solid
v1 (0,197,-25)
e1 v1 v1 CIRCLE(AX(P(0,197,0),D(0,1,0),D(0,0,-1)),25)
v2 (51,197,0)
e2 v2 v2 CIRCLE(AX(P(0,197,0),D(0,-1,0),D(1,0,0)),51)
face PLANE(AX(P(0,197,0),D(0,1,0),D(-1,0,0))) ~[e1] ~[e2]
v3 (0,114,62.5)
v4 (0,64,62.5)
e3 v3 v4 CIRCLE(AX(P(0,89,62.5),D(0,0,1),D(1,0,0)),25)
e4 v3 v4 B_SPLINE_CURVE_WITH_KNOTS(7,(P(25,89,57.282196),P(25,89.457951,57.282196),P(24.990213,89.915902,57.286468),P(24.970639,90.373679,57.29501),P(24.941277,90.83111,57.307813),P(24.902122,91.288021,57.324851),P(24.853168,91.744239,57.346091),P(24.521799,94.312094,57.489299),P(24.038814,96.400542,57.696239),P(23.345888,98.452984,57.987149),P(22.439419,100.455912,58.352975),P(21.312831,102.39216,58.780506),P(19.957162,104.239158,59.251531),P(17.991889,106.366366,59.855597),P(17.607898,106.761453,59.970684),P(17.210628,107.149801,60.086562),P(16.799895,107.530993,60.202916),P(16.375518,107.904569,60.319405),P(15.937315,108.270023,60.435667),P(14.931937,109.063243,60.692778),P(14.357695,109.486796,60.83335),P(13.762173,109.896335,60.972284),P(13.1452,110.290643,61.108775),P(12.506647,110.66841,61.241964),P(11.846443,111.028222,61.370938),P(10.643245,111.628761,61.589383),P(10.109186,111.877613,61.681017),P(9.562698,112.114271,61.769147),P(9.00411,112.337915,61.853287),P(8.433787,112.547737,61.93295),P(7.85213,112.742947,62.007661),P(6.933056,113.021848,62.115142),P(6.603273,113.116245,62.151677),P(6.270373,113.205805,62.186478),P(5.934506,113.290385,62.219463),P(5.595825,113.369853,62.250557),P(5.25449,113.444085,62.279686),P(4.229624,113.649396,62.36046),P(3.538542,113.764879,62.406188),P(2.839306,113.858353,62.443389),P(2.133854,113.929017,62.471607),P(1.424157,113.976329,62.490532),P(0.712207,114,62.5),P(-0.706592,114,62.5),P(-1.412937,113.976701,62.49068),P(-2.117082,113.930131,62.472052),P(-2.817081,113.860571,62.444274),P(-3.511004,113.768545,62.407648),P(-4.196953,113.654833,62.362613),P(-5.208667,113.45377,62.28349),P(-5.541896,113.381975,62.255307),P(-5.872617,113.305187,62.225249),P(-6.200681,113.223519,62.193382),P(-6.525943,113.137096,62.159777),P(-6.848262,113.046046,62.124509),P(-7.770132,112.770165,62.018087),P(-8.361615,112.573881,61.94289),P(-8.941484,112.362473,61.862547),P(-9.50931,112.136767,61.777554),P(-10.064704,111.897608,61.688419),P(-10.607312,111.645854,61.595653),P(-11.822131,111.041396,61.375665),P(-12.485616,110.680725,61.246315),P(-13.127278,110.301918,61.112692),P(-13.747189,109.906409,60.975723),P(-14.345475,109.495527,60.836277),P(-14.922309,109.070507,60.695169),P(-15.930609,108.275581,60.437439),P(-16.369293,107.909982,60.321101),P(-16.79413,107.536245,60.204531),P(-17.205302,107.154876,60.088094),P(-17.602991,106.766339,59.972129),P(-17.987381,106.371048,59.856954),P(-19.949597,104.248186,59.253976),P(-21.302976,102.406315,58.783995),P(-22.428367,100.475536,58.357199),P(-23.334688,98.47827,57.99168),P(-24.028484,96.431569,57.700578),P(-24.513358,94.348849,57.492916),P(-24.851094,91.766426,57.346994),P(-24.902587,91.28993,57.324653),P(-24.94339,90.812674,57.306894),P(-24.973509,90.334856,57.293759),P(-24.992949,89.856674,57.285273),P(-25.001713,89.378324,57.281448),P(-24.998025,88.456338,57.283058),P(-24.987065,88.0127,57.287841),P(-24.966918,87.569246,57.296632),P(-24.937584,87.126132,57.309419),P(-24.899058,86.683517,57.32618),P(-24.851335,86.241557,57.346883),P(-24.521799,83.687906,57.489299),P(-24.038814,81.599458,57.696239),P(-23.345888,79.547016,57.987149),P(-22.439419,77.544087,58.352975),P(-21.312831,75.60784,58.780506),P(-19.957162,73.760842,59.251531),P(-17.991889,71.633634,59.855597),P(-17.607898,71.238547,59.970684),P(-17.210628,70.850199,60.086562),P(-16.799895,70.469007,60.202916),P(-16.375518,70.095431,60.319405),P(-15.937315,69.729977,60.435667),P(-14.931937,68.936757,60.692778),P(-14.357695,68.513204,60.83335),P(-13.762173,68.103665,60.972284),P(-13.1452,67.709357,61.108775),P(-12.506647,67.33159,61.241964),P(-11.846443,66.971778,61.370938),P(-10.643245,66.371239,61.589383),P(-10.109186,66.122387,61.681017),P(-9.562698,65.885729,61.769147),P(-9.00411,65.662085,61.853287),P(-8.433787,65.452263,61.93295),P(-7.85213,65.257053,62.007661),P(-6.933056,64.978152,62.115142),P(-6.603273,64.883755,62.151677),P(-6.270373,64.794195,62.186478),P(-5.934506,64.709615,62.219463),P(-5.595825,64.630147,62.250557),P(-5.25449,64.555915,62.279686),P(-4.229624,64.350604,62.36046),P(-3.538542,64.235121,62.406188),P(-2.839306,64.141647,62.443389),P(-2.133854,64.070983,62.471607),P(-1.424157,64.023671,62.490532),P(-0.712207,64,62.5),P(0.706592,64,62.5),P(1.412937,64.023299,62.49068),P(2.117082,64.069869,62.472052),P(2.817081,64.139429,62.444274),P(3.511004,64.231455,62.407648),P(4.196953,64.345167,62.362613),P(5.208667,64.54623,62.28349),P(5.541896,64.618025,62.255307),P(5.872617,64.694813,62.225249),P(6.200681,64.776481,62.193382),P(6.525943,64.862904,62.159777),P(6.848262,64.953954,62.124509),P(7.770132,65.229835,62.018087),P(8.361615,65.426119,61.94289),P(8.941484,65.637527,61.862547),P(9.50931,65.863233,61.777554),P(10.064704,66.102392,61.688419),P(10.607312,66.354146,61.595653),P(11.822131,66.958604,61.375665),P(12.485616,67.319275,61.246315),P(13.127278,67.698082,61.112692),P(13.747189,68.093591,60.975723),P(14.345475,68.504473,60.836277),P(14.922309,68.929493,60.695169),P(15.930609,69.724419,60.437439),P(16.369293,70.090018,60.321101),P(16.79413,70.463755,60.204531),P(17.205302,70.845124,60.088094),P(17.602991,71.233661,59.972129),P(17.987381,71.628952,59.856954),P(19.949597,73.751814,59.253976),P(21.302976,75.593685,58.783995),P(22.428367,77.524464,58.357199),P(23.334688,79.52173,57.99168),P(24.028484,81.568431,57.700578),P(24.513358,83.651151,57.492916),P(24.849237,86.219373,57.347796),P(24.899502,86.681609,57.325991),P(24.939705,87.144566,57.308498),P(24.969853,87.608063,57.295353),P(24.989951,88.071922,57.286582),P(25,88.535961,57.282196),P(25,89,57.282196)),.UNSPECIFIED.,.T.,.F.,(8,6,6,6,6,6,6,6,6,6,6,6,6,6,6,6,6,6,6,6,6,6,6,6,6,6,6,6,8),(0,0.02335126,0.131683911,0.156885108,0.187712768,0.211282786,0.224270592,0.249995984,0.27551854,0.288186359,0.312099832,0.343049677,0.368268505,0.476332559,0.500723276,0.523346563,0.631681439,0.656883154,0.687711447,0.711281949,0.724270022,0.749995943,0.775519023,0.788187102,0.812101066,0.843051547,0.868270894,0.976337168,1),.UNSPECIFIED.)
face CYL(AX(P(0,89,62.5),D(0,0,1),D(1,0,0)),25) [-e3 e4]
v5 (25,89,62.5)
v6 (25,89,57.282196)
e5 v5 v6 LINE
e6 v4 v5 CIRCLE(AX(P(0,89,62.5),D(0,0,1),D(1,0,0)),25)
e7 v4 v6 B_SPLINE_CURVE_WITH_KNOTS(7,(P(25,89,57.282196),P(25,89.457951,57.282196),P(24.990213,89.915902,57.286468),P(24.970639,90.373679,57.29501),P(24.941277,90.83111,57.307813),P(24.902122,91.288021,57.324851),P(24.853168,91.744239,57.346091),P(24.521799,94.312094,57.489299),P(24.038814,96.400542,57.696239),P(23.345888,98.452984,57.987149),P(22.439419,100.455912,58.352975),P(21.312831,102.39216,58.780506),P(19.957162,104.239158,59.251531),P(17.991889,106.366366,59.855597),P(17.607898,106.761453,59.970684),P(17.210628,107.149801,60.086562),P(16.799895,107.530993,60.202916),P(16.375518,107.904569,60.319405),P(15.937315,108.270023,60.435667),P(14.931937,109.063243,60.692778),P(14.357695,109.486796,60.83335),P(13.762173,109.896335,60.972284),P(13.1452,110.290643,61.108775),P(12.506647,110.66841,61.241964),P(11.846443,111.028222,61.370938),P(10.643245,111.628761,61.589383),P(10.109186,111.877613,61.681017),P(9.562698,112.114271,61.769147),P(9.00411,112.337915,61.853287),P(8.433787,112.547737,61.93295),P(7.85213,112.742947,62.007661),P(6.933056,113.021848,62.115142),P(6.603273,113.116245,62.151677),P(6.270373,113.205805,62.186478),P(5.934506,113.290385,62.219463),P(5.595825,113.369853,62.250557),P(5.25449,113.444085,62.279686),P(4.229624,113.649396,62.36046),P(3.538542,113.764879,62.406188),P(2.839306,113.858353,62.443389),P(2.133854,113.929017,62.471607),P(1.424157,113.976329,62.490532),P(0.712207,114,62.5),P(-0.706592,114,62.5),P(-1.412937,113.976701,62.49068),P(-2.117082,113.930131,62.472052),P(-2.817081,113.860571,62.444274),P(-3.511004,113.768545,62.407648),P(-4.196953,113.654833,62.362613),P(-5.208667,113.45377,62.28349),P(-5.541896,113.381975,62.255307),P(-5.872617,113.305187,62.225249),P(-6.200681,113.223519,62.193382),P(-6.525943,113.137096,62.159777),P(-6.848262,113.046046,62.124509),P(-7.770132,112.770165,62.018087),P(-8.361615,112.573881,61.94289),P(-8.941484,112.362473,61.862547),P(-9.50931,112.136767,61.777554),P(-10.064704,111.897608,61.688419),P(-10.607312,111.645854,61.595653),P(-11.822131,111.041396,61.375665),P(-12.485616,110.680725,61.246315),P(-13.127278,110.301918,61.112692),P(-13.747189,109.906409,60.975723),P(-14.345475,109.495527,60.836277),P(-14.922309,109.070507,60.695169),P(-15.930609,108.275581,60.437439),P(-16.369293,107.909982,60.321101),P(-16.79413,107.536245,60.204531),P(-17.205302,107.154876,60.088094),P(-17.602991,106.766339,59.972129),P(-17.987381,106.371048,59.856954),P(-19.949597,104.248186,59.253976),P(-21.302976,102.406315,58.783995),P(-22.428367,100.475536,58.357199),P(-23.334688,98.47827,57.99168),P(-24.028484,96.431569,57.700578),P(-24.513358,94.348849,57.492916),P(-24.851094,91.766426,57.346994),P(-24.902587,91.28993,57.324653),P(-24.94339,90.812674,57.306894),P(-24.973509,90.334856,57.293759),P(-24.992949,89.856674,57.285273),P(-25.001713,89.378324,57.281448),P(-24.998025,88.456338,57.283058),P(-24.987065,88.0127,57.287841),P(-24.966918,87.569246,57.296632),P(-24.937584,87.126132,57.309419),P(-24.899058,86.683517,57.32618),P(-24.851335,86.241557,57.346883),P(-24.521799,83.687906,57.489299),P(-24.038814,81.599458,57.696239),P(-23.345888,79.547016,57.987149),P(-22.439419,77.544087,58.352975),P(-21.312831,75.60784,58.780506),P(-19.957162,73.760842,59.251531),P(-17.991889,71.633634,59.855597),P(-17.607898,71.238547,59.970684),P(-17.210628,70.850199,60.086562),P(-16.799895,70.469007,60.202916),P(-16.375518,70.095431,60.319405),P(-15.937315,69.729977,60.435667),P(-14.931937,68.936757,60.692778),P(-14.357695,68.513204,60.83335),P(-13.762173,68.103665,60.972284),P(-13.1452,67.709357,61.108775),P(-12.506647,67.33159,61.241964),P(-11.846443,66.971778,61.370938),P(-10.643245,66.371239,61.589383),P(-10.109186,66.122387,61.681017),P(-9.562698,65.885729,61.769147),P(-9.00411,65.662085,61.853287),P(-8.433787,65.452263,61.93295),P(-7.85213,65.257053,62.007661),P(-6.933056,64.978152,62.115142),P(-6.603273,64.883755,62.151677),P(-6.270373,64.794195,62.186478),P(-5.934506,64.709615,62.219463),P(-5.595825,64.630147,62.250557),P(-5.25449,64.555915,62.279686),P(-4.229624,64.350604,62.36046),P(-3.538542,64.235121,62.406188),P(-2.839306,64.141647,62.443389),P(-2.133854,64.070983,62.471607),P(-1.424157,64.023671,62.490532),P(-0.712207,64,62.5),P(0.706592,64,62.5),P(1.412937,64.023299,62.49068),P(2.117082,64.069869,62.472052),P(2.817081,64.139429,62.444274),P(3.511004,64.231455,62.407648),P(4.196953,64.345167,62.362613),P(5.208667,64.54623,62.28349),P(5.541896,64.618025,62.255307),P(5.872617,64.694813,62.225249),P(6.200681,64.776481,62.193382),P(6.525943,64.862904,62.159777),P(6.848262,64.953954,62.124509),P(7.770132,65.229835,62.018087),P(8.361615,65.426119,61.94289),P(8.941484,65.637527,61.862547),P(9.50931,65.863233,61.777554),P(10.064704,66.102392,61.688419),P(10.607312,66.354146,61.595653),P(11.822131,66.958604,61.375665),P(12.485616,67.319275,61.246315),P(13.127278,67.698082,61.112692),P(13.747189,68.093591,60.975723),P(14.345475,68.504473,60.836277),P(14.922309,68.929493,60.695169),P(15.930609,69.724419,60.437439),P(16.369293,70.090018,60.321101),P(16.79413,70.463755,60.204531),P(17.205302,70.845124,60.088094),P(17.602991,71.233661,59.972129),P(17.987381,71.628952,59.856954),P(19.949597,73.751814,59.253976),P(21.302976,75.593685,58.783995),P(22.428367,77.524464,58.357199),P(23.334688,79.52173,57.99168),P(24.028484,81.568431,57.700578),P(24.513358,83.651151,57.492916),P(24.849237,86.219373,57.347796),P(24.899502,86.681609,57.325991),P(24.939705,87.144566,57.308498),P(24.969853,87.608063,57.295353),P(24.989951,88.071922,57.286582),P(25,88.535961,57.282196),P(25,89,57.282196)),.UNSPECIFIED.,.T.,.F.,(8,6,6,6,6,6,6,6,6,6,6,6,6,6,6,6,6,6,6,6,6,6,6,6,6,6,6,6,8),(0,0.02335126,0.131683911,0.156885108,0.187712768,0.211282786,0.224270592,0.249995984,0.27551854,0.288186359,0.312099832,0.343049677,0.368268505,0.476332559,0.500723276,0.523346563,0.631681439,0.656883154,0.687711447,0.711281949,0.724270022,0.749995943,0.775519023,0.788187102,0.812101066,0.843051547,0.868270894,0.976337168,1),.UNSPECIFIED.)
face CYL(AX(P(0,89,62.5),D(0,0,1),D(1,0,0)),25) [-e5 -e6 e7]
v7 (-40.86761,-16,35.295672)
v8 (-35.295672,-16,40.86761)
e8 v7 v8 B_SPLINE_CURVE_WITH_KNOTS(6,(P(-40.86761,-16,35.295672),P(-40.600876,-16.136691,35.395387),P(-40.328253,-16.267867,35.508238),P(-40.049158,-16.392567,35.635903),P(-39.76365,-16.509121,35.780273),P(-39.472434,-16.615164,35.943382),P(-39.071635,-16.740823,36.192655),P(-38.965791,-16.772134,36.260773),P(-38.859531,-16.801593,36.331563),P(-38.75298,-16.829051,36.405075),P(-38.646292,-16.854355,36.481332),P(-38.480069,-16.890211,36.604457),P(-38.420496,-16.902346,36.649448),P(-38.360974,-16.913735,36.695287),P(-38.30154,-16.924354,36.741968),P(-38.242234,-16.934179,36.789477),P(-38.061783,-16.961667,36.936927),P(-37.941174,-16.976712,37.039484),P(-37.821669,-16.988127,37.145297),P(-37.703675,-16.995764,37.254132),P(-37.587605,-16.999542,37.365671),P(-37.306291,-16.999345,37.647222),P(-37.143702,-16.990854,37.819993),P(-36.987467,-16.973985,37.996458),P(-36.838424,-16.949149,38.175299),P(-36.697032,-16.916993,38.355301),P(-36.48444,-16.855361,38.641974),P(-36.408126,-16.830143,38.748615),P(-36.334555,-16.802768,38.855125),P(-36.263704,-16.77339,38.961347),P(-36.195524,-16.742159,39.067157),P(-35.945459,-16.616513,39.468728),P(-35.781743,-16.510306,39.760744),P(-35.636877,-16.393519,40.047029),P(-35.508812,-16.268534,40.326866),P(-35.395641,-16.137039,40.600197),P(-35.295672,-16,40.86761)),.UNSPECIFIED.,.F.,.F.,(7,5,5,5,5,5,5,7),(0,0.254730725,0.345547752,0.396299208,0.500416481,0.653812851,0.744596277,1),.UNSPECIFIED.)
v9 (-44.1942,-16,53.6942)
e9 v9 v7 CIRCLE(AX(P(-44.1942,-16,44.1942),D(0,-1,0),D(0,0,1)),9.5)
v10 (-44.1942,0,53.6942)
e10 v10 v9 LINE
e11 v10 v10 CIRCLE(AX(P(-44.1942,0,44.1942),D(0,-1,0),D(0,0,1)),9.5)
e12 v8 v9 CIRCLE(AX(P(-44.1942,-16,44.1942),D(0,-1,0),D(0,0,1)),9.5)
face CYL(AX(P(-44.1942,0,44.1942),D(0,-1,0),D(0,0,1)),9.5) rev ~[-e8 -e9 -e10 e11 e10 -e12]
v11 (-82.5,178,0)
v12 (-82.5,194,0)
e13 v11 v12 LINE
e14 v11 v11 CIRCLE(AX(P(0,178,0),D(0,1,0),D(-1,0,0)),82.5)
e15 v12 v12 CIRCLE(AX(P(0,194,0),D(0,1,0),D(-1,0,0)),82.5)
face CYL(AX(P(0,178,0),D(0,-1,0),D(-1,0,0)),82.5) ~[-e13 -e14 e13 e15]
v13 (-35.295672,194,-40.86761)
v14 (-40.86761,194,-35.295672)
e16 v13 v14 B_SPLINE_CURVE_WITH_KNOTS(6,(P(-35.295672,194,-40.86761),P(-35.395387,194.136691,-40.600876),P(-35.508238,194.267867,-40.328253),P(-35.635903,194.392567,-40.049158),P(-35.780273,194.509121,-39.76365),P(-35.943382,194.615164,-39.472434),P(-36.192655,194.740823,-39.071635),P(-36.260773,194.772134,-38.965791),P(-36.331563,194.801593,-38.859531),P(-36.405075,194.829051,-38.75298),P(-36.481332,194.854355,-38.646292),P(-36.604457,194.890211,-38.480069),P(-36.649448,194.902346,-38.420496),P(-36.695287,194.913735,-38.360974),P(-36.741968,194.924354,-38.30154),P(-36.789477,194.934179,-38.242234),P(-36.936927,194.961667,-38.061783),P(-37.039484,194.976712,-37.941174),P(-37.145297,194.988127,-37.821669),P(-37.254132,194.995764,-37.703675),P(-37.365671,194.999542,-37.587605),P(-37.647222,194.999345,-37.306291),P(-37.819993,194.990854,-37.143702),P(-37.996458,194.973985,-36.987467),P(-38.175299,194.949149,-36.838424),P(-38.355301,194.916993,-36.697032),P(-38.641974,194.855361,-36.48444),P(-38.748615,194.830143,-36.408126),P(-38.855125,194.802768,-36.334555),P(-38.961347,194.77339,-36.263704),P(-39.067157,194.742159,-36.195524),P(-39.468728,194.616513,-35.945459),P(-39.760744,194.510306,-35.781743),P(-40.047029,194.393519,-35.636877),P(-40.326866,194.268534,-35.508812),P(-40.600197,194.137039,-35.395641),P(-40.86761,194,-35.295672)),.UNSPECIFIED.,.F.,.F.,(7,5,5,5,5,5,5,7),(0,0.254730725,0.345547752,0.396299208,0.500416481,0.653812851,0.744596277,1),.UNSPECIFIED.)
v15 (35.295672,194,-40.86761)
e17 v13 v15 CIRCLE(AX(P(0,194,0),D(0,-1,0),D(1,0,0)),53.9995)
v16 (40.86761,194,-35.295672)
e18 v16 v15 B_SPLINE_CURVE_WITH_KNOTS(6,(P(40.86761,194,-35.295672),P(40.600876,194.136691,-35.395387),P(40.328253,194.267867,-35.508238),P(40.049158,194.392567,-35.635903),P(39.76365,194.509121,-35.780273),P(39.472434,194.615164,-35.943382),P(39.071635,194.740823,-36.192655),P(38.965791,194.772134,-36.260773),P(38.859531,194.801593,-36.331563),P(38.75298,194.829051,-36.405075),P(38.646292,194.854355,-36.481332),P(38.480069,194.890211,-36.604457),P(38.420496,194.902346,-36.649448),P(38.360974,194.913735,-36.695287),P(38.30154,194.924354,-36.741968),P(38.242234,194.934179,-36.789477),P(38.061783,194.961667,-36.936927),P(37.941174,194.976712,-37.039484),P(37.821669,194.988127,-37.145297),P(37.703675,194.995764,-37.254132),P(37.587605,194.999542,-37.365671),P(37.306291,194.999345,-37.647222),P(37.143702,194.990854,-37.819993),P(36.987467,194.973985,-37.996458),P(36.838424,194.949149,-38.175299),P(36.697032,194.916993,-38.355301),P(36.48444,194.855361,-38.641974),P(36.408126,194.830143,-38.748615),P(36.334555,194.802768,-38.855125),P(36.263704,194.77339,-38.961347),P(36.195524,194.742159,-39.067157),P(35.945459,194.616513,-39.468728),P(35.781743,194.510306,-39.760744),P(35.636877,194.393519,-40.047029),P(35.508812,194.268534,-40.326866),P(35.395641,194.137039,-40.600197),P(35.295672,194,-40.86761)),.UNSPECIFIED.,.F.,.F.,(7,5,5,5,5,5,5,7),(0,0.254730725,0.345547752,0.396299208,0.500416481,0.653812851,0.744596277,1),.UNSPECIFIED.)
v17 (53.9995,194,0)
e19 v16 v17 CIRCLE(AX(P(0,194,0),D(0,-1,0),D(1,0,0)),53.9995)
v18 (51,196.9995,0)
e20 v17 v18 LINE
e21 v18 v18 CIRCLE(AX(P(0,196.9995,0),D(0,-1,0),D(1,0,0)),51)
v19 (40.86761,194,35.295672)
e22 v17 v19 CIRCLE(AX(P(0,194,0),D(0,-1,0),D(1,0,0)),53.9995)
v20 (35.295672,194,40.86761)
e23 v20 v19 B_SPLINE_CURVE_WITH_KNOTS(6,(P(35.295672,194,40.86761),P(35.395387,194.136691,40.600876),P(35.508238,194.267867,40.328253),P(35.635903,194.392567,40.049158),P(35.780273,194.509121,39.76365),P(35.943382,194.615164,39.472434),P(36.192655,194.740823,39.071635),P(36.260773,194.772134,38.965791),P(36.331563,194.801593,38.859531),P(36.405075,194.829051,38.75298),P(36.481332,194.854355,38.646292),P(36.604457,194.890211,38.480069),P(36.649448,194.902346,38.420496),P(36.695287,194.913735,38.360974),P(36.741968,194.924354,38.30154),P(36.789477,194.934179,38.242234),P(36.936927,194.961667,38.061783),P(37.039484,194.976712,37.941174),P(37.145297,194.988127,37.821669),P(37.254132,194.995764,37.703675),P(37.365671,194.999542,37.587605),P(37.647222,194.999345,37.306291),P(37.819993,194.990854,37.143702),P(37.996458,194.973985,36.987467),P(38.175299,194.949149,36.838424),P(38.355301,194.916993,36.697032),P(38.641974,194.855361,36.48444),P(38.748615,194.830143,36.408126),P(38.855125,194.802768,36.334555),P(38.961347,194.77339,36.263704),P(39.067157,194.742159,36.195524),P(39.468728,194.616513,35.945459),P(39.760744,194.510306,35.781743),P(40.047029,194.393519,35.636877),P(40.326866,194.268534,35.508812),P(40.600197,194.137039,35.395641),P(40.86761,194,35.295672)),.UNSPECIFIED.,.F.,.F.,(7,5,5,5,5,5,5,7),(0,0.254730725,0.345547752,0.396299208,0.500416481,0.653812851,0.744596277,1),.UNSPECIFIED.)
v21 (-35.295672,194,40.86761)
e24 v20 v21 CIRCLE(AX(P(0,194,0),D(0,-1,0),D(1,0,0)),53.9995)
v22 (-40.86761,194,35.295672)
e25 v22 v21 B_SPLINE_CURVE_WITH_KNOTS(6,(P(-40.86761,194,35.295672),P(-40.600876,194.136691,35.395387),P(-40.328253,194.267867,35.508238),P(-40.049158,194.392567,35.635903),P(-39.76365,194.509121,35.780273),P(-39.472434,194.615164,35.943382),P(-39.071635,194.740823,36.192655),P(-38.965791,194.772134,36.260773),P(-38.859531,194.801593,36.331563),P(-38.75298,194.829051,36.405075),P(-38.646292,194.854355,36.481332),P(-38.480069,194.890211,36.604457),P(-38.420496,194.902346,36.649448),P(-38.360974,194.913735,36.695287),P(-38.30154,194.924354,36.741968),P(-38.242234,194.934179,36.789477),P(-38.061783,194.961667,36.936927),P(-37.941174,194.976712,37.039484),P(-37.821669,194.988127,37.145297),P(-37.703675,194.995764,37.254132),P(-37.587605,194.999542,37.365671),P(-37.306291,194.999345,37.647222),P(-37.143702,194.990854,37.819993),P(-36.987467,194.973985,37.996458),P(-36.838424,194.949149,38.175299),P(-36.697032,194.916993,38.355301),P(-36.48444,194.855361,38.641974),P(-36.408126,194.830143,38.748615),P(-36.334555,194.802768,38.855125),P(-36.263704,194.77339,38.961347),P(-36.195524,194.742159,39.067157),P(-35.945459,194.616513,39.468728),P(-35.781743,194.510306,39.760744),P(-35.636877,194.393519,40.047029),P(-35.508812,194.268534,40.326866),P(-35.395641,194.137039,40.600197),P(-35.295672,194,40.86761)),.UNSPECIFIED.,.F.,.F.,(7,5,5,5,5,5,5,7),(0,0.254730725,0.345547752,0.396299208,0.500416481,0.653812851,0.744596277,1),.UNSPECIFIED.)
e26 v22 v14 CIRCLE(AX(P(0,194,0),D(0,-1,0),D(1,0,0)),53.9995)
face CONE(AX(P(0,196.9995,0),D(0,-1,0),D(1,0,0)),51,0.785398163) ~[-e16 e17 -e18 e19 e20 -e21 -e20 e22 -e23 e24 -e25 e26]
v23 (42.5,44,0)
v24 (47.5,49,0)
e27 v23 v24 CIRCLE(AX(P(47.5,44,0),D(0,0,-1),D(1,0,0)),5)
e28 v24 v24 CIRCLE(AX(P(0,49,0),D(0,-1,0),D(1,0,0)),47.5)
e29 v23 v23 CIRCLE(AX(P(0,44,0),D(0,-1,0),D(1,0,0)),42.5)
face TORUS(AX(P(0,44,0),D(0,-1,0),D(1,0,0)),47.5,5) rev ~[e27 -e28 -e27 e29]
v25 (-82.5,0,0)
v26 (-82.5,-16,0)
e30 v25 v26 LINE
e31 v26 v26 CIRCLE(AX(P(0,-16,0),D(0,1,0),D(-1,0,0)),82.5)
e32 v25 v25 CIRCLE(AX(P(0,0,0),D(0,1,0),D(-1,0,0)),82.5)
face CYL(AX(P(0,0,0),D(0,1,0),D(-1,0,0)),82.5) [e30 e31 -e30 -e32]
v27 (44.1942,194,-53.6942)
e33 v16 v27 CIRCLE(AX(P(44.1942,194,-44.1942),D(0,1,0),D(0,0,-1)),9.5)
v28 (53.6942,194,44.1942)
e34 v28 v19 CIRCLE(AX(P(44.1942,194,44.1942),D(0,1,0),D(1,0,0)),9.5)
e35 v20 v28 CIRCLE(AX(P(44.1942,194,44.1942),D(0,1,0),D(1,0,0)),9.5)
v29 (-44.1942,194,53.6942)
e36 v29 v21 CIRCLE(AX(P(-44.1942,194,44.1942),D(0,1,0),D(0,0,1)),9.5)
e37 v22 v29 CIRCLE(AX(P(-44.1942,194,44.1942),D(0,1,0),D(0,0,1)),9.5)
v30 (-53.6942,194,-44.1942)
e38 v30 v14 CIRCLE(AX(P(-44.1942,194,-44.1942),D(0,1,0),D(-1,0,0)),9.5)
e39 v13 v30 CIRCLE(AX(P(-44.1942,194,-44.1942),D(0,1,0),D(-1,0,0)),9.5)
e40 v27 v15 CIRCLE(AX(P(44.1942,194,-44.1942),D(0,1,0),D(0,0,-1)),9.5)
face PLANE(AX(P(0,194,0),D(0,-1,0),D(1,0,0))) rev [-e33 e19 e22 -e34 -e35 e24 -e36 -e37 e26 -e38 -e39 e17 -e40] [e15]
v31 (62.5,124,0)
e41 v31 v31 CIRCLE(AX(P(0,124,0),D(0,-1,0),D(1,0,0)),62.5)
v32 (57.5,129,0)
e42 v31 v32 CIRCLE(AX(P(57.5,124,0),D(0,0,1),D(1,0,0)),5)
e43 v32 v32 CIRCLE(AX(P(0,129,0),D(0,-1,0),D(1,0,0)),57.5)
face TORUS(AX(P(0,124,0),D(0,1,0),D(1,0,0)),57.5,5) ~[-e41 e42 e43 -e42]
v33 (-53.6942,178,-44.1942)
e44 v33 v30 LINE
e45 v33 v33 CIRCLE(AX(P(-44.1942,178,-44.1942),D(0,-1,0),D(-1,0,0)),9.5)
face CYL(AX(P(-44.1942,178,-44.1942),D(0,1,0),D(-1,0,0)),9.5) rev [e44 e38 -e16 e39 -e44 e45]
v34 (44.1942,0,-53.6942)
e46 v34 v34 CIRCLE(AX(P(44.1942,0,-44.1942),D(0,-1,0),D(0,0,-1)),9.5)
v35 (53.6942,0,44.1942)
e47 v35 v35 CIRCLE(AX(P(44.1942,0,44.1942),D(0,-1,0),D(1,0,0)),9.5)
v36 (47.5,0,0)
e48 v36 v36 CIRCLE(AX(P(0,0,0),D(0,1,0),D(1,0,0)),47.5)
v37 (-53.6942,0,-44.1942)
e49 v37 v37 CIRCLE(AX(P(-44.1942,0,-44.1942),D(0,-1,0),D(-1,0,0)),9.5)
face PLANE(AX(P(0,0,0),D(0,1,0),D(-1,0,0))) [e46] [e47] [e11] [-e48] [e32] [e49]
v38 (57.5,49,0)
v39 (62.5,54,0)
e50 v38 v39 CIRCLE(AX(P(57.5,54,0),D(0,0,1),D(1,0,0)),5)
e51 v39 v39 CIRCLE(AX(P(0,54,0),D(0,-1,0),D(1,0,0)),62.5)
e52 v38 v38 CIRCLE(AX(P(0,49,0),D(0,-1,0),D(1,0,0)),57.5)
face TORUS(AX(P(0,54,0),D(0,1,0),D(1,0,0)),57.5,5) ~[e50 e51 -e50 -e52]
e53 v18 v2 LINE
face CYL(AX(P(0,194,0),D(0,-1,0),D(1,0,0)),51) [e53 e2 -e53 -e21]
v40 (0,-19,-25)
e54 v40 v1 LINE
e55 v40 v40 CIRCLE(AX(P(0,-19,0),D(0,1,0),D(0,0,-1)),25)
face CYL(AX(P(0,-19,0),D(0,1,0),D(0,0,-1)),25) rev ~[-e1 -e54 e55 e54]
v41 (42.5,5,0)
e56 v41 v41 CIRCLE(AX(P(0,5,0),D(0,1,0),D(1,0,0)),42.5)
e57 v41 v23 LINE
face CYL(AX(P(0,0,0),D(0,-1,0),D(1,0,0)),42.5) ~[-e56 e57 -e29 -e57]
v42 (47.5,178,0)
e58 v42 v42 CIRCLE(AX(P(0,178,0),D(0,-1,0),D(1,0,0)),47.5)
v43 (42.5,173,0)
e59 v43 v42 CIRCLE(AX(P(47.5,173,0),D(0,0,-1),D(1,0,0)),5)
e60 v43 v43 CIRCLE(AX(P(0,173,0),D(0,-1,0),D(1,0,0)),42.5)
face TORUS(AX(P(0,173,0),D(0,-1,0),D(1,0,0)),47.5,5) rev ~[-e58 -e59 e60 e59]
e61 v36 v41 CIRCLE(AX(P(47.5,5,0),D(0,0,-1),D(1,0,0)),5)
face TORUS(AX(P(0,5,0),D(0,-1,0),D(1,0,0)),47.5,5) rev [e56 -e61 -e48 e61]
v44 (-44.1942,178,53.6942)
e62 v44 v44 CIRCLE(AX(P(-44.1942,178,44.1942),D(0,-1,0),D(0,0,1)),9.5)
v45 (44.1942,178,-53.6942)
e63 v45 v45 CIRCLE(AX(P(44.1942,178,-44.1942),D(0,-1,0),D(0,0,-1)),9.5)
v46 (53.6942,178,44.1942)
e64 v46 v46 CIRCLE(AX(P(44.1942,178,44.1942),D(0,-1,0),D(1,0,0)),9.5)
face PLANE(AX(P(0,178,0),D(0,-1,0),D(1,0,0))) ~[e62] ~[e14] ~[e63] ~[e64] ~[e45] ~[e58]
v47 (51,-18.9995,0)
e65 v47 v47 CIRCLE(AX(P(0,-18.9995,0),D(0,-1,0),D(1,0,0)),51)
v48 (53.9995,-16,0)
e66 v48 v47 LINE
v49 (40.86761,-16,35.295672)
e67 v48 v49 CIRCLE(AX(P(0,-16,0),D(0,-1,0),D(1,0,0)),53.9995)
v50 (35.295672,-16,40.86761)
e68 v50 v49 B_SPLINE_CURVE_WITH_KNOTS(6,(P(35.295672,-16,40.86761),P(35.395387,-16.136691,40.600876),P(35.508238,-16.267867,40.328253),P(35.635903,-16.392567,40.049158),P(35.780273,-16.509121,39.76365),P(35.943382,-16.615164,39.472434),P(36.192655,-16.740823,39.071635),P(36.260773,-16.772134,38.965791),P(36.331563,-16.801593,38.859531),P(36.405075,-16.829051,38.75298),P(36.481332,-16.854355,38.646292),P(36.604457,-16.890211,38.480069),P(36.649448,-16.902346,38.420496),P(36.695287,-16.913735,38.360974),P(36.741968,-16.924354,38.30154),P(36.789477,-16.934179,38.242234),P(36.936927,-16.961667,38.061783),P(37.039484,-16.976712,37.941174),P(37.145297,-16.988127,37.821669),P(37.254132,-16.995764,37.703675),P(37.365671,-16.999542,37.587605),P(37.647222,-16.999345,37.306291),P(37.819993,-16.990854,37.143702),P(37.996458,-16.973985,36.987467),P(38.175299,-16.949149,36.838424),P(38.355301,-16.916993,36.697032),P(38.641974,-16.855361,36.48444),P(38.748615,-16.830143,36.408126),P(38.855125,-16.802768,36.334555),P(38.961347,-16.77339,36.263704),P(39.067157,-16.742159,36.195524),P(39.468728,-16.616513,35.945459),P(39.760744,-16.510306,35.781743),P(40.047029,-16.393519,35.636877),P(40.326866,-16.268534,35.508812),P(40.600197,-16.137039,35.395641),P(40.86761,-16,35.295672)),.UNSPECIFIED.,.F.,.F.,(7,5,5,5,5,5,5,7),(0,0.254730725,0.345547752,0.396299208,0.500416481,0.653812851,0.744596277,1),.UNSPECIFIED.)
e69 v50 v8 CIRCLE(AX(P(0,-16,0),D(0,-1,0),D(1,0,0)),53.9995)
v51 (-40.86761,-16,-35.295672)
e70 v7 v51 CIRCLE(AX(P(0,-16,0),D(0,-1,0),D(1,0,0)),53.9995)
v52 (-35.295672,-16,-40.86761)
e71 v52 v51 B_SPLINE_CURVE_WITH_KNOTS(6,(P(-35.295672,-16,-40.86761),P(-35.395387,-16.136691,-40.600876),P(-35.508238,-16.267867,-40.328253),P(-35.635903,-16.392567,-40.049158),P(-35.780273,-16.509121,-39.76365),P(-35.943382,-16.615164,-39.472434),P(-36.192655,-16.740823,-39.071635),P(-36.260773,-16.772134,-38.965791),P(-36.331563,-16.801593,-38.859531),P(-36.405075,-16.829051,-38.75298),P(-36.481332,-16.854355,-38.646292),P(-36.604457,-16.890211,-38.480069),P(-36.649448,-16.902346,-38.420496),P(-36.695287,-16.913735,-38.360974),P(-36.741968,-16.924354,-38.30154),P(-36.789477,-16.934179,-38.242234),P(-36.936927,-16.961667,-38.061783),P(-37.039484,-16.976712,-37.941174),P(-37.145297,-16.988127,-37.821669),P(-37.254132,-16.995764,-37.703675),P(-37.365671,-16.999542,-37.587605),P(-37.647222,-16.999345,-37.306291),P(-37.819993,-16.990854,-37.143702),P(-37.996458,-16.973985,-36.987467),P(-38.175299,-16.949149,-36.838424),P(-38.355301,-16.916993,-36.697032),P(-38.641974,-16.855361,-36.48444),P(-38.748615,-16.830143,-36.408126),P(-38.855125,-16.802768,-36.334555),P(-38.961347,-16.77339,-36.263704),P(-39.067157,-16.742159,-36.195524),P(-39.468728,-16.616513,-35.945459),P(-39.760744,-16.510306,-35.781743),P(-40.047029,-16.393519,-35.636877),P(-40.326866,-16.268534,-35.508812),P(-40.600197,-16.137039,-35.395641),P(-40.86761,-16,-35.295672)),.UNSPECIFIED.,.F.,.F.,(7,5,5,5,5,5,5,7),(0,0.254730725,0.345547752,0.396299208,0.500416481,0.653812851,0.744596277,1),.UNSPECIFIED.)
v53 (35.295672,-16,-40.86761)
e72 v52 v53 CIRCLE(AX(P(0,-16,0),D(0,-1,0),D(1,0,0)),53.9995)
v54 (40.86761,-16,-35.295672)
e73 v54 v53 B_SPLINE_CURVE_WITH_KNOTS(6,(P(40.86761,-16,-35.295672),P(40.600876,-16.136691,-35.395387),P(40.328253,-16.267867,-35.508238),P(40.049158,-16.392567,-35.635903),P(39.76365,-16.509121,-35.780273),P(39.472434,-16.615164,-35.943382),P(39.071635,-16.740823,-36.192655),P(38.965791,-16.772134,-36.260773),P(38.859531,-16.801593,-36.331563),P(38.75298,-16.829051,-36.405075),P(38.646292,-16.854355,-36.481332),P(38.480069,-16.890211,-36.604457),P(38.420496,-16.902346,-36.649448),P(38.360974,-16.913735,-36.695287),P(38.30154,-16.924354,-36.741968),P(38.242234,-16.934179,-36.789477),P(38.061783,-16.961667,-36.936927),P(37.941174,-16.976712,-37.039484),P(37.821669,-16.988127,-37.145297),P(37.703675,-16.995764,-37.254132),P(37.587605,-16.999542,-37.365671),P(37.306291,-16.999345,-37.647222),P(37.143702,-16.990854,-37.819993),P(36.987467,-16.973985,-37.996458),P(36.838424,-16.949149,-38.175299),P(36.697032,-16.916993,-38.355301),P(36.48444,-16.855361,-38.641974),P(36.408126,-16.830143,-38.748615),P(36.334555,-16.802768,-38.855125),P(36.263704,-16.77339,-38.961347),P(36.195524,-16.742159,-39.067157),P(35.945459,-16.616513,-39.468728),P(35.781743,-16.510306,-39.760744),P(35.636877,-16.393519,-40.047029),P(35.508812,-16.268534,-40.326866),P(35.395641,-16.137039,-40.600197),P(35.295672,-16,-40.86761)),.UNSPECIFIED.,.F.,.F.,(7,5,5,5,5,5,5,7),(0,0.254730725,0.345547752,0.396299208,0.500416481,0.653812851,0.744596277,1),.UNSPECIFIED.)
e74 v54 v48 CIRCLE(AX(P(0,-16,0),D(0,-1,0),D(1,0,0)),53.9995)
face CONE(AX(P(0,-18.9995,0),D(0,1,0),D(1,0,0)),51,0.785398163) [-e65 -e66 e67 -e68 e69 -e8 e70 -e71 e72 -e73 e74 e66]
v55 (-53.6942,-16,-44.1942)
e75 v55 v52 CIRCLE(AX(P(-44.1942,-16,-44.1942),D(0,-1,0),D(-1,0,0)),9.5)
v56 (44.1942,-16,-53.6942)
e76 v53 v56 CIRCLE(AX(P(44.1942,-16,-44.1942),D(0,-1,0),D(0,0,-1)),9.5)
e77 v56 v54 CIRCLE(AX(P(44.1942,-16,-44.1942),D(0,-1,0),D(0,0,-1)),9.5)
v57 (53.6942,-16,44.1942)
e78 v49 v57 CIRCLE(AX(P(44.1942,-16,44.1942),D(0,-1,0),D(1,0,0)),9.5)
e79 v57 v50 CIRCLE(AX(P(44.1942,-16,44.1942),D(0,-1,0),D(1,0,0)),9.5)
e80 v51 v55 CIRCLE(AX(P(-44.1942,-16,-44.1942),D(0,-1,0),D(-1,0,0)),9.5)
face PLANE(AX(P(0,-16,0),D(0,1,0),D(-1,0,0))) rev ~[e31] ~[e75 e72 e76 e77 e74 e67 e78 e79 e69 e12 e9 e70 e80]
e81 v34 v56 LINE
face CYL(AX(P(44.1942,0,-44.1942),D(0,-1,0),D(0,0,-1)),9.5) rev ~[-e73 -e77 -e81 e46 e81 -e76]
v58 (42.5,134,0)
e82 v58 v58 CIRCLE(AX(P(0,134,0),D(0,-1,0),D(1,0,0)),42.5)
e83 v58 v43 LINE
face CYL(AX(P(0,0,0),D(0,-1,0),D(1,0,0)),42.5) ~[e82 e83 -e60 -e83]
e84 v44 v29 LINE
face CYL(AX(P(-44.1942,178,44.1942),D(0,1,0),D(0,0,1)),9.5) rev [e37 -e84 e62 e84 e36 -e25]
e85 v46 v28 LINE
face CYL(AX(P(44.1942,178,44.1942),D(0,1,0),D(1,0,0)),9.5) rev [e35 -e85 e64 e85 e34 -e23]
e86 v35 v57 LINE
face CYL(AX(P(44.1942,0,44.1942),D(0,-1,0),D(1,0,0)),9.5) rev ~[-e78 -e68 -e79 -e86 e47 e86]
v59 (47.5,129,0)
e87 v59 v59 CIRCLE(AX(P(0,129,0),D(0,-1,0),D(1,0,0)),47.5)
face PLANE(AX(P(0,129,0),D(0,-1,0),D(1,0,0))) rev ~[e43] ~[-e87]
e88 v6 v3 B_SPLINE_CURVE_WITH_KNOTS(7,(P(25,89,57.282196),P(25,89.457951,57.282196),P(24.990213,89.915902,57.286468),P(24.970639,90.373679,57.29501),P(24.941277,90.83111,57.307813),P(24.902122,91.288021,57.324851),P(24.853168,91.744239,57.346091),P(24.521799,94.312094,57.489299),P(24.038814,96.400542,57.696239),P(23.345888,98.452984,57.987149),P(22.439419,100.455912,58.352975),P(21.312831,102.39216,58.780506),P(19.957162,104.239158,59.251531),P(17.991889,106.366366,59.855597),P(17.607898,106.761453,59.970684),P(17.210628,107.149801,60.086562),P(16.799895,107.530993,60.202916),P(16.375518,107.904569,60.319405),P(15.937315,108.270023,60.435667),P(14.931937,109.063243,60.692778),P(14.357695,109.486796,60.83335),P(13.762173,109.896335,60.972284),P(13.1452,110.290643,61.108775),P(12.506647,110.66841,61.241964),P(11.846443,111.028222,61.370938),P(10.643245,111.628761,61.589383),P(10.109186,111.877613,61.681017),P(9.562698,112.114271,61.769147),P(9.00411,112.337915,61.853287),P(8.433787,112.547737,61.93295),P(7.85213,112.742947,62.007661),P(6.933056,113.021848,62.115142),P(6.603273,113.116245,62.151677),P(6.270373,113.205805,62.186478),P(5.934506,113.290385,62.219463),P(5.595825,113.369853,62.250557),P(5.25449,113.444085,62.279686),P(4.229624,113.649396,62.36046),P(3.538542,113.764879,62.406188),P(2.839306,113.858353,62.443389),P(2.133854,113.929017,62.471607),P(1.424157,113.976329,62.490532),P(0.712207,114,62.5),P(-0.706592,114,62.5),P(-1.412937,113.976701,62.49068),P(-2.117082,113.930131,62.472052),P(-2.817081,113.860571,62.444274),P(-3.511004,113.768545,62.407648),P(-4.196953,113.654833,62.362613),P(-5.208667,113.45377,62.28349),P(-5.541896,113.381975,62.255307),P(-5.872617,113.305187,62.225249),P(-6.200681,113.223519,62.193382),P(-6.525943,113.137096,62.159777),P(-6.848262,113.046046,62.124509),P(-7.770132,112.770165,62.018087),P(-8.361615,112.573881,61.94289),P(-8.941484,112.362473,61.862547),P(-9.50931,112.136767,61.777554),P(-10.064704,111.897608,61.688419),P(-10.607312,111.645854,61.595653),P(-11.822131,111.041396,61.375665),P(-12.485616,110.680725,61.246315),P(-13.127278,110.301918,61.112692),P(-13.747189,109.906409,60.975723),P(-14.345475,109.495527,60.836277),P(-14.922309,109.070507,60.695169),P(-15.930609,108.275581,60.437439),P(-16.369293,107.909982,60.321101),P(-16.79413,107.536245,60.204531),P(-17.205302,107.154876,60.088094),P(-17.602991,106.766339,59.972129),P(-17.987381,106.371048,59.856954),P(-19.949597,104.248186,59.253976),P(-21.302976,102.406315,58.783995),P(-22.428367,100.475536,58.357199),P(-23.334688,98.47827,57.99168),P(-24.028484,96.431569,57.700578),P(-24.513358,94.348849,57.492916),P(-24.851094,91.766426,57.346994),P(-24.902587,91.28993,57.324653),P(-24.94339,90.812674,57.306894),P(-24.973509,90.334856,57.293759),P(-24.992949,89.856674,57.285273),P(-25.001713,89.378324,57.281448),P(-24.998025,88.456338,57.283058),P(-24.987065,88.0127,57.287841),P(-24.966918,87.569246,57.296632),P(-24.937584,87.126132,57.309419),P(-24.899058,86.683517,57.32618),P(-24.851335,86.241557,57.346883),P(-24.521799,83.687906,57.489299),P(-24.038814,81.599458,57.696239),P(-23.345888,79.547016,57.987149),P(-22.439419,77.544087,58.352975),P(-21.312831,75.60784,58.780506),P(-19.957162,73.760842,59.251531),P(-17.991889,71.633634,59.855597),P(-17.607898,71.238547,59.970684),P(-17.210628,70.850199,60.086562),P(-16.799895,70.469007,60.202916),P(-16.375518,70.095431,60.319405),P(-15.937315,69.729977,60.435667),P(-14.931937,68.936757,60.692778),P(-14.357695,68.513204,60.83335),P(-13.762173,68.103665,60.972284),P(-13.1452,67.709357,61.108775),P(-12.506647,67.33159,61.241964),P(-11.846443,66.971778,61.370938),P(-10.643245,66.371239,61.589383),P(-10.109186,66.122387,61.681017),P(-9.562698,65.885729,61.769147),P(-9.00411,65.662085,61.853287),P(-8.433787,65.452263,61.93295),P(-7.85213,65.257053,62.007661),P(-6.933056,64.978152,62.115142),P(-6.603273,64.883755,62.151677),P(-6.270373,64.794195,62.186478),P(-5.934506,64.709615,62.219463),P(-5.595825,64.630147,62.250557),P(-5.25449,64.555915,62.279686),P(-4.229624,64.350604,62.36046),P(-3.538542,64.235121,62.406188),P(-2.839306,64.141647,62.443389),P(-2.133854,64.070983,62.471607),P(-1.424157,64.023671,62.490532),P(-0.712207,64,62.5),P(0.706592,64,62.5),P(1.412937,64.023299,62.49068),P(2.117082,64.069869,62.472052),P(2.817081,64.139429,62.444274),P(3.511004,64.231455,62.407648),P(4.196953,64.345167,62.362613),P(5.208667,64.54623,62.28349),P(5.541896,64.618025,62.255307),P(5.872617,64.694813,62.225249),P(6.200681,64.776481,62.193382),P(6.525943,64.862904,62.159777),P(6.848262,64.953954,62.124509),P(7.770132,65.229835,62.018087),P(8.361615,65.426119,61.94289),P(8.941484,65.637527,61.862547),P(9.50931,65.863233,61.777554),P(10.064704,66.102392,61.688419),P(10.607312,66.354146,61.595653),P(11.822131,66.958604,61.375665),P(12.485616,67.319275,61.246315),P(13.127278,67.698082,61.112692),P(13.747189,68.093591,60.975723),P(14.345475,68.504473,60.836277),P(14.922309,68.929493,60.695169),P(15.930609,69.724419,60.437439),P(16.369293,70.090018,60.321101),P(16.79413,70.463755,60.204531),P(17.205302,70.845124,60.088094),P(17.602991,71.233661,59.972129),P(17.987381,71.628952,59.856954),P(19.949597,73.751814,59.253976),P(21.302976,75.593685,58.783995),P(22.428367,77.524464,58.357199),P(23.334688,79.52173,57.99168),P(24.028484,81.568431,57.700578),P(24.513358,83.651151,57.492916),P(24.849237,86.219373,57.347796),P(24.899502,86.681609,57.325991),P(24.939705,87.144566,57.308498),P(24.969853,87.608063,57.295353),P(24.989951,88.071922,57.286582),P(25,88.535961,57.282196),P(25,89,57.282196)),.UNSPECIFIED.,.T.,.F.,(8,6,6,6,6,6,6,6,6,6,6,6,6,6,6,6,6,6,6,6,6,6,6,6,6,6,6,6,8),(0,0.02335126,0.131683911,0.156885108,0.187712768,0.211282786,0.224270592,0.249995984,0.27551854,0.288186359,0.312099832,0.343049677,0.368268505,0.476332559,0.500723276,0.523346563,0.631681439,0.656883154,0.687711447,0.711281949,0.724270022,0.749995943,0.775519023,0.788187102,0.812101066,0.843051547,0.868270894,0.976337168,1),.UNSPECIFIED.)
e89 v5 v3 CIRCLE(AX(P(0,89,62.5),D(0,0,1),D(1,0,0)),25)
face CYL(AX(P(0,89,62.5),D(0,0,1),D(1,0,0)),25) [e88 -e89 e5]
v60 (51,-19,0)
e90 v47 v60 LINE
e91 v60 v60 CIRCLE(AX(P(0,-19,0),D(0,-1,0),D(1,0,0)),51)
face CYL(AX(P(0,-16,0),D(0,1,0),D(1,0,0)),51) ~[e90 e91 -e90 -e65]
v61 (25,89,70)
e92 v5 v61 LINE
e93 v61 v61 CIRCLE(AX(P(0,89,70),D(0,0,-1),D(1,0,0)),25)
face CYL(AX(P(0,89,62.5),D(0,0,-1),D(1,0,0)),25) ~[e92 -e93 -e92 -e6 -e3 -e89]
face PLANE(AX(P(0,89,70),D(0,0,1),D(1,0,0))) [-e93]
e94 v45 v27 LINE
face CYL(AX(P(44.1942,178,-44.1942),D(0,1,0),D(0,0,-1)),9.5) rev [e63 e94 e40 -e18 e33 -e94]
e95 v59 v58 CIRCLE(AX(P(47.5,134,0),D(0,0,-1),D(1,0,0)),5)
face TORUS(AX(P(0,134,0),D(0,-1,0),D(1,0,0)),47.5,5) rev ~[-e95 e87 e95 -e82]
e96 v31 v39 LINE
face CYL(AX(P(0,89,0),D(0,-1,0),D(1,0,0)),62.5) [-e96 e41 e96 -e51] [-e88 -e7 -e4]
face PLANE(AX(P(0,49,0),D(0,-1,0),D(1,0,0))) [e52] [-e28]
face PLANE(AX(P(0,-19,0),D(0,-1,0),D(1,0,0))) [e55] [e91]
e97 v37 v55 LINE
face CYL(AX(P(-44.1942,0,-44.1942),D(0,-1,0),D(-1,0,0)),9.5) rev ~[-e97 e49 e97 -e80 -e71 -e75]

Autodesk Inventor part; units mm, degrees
ref_plane "YZ Plane" through (0, 0, 0) normal (1, 0, 0) x (0, 1, 0)
sketch "Sketch27" plane through (0, 0, 0) normal (0, 1, 0) x (-1, 0, 0)
  circle A0 centre (0, 0) radius 82.5
  dimension "d21" = 165
extrude "Extrusion20" add sketch "Sketch27" against normal blind 16
sketch "Sketch55" plane through (0, -16, 0) normal (0, -1, 0) x (1, 0, 0)
  circle A0 centre (0, 0) radius 82.5 projected
  circle A1 centre (0, 0) radius 51
  dimension "d275" = 102
extrude "Extrusion39" add sketch "Sketch55" along normal blind 3 contours A1
chamfer "Chamfer8" distance 3 angle 45 1 edges at (-51, -16, 0)
sketch "Sketch29" plane through (0, 0, 0) normal (0, 1, 0) x (1, 0, 0)
  circle A0 centre (0, 0) radius 62.5
  circle A1 centre (0, 0) radius 62.5 construction
  line L0 (0, 0) -> (-44.1942, -44.1942) construction
  circle A2 centre (0, 0) radius 82.5 projected
  line L1 (0, 99) -> (0, -132) projected
  dimension "d29" = 125
  dimension "d30" = 45
hole "Hole2" at (-44.1942, 0, 44.1942) direction (0, -1, 0) diameter 19 end through all
pattern_circular "Circular Pattern2" count 4 over 360 about axis through (0, 0, 0) along (0, -1, 0) of "Hole2"
ref_plane "Work Plane11" through (0, 89, 0) normal (0, -1, 0) x (1, 0, 0)
mirror "Mirror5" about plane through (0, 89, 0) normal (0, -1, 0) of "Extrusion20", "Extrusion39", "Chamfer8", "Hole2", "Circular Pattern2"
sketch "Sketch57" plane through (0, 0, 0) normal (0, 1, 0) x (1, 0, 0)
  circle A0 centre (0, 0) radius 82.5 projected
  circle A1 centre (0, 0) radius 42.5
  dimension "d289" = 85
extrude "Extrusion40" add sketch "Sketch57" along normal up to next contours A1
sketch "Sketch58" plane through (0, 89, 0) normal (0, -1, 0) x (1, 0, 0)
  circle A0 centre (0, 0) radius 42.5 projected
  circle A1 centre (0, 0) radius 62.5
  dimension "d292" = 125
extrude "Extrusion41" add sketch "Sketch58" along normal mid plane 80 contours A0 | A1
fillet "Fillet56" radius 5 6 edges at (-42.5, 129, 0) (-62.5, 129, 0) (-42.5, 49, 0) (-62.5, 49, 0) (-42.5, 0, 0) (-42.5, 178, 0)
ref_plane "Work Plane12" through (0, 89, 62.5) normal (0, 0, 1) x (1, 0, 0)
sketch "Sketch59" plane through (0, 89, 62.5) normal (0, 0, 1) x (1, 0, 0)
  line L0 (0, -129.6) -> (0, 172.8) projected
  line L1 (51, -108) -> (-51, -108) projected
  circle A0 centre (0, 0) radius 25
  line L2 (132, 0) -> (-99, 0) projected
  dimension "d297" = 50
extrude "Extrusion42" add sketch "Sketch59" along normal mid plane 15
sketch "Sketch56" plane through (0, -19, 0) normal (0, -1, 0) x (1, 0, 0)
  circle A0 centre (0, 0) radius 51 projected
hole "Hole6" at (0, -19, 0) direction (0, 1, 0) diameter 50 end through all
sketch "Sketch60" plane through (0, 84.0068, 13.3927) normal (1, 0, 0) x (0, 0, -1)
  line L0 (-59.69, -7.4528) -> (-59.69, 24.2972)
  arc A0 (-59.69, 24.2972) -> (-61.8522, 29.6148) centre (-67.31, 24.2972) ccw
  line L1 (-61.8522, 29.6148) -> (-84.0089, 52.3556)
  arc A1 (-85.09, 55.0144) -> (-84.0089, 52.3556) centre (-81.28, 55.0144) ccw
  line L2 (-85.09, 55.0144) -> (-85.09, 170.3472)
  line L3 (-85.09, 170.3472) -> (-88.9, 170.3472)
  line L4 (-88.9, 170.3472) -> (-88.9, 55.0144)
  arc A2 (-88.9, 55.0144) -> (-86.7378, 49.6968) centre (-81.28, 55.0144) ccw
  line L5 (-86.7378, 49.6968) -> (-64.5811, 26.956)
  arc A3 (-63.5, 24.2972) -> (-64.5811, 26.956) centre (-67.31, 24.2972) ccw
  line L6 (-63.5, 24.2972) -> (-63.5, -7.4528)
  line L7 (-63.5, -7.4528) -> (-59.69, -7.4528)
  line L8 (0, -18.034) -> (0, 124.206)
  line L9 (-28.0662, 4.9932) -> (-56.6073, 4.9932)
  line L10 (-56.6073, -20.0068) -> (-56.6073, 29.9932) projected
  dimension "d306" = 3.81
  dimension "d307" = 3.81
  dimension "d308" = 3.81
  dimension "d304" = 177.8
  dimension "d311" = 31.75
  dimension "d309" = 31.75
  dimension "d305" = 25.4
  dimension "d310" = 59.69
  dimension "d303" = 12.446
  dimension "d321" = 16
  dimension "d324" = 20
sketch "Sketch62" plane through (0, 0, 0) normal (1, 0, 0) x (0, 1, 0)
  line L0 (89, 76.8927) -> (79, 76.8927) projected
  line L1 (79, 84.8927) -> (89, 84.8927) projected
  line L2 (73.6393, 84.8927) -> (73.6393, 82.8927)
  line L3 (73.6393, 82.8927) -> (82.6108, 84.8927)
  line L4 (73.6393, 76.8927) -> (73.6393, 78.8927)
  line L5 (73.6393, 78.8927) -> (82.6108, 76.8927)
  line L6 (89, 157.7306) -> (89, -100.9793) projected
  line L7 (73.6393, 84.8927) -> (82.6108, 84.8927)
  line L8 (73.6393, 76.8927) -> (82.6108, 76.8927)
  dimension "d330" = 2
equation "\"NB\" = 50"
equation "\"PipeOD\" = 60.325"
equation "\"FlangeOD\" = 165"
equation "\"FlangefaceOD\" = 102"
equation "\"Holedia\" = 19"
equation "\"Holenum\" = 4"
equation "\"PCD\" = 125"
equation "\"Flangethk\" = 16"
equation "\"Flangefacethk\" = 3"
properties part number "Flanged Ball Valve" material "Cast Iron"
